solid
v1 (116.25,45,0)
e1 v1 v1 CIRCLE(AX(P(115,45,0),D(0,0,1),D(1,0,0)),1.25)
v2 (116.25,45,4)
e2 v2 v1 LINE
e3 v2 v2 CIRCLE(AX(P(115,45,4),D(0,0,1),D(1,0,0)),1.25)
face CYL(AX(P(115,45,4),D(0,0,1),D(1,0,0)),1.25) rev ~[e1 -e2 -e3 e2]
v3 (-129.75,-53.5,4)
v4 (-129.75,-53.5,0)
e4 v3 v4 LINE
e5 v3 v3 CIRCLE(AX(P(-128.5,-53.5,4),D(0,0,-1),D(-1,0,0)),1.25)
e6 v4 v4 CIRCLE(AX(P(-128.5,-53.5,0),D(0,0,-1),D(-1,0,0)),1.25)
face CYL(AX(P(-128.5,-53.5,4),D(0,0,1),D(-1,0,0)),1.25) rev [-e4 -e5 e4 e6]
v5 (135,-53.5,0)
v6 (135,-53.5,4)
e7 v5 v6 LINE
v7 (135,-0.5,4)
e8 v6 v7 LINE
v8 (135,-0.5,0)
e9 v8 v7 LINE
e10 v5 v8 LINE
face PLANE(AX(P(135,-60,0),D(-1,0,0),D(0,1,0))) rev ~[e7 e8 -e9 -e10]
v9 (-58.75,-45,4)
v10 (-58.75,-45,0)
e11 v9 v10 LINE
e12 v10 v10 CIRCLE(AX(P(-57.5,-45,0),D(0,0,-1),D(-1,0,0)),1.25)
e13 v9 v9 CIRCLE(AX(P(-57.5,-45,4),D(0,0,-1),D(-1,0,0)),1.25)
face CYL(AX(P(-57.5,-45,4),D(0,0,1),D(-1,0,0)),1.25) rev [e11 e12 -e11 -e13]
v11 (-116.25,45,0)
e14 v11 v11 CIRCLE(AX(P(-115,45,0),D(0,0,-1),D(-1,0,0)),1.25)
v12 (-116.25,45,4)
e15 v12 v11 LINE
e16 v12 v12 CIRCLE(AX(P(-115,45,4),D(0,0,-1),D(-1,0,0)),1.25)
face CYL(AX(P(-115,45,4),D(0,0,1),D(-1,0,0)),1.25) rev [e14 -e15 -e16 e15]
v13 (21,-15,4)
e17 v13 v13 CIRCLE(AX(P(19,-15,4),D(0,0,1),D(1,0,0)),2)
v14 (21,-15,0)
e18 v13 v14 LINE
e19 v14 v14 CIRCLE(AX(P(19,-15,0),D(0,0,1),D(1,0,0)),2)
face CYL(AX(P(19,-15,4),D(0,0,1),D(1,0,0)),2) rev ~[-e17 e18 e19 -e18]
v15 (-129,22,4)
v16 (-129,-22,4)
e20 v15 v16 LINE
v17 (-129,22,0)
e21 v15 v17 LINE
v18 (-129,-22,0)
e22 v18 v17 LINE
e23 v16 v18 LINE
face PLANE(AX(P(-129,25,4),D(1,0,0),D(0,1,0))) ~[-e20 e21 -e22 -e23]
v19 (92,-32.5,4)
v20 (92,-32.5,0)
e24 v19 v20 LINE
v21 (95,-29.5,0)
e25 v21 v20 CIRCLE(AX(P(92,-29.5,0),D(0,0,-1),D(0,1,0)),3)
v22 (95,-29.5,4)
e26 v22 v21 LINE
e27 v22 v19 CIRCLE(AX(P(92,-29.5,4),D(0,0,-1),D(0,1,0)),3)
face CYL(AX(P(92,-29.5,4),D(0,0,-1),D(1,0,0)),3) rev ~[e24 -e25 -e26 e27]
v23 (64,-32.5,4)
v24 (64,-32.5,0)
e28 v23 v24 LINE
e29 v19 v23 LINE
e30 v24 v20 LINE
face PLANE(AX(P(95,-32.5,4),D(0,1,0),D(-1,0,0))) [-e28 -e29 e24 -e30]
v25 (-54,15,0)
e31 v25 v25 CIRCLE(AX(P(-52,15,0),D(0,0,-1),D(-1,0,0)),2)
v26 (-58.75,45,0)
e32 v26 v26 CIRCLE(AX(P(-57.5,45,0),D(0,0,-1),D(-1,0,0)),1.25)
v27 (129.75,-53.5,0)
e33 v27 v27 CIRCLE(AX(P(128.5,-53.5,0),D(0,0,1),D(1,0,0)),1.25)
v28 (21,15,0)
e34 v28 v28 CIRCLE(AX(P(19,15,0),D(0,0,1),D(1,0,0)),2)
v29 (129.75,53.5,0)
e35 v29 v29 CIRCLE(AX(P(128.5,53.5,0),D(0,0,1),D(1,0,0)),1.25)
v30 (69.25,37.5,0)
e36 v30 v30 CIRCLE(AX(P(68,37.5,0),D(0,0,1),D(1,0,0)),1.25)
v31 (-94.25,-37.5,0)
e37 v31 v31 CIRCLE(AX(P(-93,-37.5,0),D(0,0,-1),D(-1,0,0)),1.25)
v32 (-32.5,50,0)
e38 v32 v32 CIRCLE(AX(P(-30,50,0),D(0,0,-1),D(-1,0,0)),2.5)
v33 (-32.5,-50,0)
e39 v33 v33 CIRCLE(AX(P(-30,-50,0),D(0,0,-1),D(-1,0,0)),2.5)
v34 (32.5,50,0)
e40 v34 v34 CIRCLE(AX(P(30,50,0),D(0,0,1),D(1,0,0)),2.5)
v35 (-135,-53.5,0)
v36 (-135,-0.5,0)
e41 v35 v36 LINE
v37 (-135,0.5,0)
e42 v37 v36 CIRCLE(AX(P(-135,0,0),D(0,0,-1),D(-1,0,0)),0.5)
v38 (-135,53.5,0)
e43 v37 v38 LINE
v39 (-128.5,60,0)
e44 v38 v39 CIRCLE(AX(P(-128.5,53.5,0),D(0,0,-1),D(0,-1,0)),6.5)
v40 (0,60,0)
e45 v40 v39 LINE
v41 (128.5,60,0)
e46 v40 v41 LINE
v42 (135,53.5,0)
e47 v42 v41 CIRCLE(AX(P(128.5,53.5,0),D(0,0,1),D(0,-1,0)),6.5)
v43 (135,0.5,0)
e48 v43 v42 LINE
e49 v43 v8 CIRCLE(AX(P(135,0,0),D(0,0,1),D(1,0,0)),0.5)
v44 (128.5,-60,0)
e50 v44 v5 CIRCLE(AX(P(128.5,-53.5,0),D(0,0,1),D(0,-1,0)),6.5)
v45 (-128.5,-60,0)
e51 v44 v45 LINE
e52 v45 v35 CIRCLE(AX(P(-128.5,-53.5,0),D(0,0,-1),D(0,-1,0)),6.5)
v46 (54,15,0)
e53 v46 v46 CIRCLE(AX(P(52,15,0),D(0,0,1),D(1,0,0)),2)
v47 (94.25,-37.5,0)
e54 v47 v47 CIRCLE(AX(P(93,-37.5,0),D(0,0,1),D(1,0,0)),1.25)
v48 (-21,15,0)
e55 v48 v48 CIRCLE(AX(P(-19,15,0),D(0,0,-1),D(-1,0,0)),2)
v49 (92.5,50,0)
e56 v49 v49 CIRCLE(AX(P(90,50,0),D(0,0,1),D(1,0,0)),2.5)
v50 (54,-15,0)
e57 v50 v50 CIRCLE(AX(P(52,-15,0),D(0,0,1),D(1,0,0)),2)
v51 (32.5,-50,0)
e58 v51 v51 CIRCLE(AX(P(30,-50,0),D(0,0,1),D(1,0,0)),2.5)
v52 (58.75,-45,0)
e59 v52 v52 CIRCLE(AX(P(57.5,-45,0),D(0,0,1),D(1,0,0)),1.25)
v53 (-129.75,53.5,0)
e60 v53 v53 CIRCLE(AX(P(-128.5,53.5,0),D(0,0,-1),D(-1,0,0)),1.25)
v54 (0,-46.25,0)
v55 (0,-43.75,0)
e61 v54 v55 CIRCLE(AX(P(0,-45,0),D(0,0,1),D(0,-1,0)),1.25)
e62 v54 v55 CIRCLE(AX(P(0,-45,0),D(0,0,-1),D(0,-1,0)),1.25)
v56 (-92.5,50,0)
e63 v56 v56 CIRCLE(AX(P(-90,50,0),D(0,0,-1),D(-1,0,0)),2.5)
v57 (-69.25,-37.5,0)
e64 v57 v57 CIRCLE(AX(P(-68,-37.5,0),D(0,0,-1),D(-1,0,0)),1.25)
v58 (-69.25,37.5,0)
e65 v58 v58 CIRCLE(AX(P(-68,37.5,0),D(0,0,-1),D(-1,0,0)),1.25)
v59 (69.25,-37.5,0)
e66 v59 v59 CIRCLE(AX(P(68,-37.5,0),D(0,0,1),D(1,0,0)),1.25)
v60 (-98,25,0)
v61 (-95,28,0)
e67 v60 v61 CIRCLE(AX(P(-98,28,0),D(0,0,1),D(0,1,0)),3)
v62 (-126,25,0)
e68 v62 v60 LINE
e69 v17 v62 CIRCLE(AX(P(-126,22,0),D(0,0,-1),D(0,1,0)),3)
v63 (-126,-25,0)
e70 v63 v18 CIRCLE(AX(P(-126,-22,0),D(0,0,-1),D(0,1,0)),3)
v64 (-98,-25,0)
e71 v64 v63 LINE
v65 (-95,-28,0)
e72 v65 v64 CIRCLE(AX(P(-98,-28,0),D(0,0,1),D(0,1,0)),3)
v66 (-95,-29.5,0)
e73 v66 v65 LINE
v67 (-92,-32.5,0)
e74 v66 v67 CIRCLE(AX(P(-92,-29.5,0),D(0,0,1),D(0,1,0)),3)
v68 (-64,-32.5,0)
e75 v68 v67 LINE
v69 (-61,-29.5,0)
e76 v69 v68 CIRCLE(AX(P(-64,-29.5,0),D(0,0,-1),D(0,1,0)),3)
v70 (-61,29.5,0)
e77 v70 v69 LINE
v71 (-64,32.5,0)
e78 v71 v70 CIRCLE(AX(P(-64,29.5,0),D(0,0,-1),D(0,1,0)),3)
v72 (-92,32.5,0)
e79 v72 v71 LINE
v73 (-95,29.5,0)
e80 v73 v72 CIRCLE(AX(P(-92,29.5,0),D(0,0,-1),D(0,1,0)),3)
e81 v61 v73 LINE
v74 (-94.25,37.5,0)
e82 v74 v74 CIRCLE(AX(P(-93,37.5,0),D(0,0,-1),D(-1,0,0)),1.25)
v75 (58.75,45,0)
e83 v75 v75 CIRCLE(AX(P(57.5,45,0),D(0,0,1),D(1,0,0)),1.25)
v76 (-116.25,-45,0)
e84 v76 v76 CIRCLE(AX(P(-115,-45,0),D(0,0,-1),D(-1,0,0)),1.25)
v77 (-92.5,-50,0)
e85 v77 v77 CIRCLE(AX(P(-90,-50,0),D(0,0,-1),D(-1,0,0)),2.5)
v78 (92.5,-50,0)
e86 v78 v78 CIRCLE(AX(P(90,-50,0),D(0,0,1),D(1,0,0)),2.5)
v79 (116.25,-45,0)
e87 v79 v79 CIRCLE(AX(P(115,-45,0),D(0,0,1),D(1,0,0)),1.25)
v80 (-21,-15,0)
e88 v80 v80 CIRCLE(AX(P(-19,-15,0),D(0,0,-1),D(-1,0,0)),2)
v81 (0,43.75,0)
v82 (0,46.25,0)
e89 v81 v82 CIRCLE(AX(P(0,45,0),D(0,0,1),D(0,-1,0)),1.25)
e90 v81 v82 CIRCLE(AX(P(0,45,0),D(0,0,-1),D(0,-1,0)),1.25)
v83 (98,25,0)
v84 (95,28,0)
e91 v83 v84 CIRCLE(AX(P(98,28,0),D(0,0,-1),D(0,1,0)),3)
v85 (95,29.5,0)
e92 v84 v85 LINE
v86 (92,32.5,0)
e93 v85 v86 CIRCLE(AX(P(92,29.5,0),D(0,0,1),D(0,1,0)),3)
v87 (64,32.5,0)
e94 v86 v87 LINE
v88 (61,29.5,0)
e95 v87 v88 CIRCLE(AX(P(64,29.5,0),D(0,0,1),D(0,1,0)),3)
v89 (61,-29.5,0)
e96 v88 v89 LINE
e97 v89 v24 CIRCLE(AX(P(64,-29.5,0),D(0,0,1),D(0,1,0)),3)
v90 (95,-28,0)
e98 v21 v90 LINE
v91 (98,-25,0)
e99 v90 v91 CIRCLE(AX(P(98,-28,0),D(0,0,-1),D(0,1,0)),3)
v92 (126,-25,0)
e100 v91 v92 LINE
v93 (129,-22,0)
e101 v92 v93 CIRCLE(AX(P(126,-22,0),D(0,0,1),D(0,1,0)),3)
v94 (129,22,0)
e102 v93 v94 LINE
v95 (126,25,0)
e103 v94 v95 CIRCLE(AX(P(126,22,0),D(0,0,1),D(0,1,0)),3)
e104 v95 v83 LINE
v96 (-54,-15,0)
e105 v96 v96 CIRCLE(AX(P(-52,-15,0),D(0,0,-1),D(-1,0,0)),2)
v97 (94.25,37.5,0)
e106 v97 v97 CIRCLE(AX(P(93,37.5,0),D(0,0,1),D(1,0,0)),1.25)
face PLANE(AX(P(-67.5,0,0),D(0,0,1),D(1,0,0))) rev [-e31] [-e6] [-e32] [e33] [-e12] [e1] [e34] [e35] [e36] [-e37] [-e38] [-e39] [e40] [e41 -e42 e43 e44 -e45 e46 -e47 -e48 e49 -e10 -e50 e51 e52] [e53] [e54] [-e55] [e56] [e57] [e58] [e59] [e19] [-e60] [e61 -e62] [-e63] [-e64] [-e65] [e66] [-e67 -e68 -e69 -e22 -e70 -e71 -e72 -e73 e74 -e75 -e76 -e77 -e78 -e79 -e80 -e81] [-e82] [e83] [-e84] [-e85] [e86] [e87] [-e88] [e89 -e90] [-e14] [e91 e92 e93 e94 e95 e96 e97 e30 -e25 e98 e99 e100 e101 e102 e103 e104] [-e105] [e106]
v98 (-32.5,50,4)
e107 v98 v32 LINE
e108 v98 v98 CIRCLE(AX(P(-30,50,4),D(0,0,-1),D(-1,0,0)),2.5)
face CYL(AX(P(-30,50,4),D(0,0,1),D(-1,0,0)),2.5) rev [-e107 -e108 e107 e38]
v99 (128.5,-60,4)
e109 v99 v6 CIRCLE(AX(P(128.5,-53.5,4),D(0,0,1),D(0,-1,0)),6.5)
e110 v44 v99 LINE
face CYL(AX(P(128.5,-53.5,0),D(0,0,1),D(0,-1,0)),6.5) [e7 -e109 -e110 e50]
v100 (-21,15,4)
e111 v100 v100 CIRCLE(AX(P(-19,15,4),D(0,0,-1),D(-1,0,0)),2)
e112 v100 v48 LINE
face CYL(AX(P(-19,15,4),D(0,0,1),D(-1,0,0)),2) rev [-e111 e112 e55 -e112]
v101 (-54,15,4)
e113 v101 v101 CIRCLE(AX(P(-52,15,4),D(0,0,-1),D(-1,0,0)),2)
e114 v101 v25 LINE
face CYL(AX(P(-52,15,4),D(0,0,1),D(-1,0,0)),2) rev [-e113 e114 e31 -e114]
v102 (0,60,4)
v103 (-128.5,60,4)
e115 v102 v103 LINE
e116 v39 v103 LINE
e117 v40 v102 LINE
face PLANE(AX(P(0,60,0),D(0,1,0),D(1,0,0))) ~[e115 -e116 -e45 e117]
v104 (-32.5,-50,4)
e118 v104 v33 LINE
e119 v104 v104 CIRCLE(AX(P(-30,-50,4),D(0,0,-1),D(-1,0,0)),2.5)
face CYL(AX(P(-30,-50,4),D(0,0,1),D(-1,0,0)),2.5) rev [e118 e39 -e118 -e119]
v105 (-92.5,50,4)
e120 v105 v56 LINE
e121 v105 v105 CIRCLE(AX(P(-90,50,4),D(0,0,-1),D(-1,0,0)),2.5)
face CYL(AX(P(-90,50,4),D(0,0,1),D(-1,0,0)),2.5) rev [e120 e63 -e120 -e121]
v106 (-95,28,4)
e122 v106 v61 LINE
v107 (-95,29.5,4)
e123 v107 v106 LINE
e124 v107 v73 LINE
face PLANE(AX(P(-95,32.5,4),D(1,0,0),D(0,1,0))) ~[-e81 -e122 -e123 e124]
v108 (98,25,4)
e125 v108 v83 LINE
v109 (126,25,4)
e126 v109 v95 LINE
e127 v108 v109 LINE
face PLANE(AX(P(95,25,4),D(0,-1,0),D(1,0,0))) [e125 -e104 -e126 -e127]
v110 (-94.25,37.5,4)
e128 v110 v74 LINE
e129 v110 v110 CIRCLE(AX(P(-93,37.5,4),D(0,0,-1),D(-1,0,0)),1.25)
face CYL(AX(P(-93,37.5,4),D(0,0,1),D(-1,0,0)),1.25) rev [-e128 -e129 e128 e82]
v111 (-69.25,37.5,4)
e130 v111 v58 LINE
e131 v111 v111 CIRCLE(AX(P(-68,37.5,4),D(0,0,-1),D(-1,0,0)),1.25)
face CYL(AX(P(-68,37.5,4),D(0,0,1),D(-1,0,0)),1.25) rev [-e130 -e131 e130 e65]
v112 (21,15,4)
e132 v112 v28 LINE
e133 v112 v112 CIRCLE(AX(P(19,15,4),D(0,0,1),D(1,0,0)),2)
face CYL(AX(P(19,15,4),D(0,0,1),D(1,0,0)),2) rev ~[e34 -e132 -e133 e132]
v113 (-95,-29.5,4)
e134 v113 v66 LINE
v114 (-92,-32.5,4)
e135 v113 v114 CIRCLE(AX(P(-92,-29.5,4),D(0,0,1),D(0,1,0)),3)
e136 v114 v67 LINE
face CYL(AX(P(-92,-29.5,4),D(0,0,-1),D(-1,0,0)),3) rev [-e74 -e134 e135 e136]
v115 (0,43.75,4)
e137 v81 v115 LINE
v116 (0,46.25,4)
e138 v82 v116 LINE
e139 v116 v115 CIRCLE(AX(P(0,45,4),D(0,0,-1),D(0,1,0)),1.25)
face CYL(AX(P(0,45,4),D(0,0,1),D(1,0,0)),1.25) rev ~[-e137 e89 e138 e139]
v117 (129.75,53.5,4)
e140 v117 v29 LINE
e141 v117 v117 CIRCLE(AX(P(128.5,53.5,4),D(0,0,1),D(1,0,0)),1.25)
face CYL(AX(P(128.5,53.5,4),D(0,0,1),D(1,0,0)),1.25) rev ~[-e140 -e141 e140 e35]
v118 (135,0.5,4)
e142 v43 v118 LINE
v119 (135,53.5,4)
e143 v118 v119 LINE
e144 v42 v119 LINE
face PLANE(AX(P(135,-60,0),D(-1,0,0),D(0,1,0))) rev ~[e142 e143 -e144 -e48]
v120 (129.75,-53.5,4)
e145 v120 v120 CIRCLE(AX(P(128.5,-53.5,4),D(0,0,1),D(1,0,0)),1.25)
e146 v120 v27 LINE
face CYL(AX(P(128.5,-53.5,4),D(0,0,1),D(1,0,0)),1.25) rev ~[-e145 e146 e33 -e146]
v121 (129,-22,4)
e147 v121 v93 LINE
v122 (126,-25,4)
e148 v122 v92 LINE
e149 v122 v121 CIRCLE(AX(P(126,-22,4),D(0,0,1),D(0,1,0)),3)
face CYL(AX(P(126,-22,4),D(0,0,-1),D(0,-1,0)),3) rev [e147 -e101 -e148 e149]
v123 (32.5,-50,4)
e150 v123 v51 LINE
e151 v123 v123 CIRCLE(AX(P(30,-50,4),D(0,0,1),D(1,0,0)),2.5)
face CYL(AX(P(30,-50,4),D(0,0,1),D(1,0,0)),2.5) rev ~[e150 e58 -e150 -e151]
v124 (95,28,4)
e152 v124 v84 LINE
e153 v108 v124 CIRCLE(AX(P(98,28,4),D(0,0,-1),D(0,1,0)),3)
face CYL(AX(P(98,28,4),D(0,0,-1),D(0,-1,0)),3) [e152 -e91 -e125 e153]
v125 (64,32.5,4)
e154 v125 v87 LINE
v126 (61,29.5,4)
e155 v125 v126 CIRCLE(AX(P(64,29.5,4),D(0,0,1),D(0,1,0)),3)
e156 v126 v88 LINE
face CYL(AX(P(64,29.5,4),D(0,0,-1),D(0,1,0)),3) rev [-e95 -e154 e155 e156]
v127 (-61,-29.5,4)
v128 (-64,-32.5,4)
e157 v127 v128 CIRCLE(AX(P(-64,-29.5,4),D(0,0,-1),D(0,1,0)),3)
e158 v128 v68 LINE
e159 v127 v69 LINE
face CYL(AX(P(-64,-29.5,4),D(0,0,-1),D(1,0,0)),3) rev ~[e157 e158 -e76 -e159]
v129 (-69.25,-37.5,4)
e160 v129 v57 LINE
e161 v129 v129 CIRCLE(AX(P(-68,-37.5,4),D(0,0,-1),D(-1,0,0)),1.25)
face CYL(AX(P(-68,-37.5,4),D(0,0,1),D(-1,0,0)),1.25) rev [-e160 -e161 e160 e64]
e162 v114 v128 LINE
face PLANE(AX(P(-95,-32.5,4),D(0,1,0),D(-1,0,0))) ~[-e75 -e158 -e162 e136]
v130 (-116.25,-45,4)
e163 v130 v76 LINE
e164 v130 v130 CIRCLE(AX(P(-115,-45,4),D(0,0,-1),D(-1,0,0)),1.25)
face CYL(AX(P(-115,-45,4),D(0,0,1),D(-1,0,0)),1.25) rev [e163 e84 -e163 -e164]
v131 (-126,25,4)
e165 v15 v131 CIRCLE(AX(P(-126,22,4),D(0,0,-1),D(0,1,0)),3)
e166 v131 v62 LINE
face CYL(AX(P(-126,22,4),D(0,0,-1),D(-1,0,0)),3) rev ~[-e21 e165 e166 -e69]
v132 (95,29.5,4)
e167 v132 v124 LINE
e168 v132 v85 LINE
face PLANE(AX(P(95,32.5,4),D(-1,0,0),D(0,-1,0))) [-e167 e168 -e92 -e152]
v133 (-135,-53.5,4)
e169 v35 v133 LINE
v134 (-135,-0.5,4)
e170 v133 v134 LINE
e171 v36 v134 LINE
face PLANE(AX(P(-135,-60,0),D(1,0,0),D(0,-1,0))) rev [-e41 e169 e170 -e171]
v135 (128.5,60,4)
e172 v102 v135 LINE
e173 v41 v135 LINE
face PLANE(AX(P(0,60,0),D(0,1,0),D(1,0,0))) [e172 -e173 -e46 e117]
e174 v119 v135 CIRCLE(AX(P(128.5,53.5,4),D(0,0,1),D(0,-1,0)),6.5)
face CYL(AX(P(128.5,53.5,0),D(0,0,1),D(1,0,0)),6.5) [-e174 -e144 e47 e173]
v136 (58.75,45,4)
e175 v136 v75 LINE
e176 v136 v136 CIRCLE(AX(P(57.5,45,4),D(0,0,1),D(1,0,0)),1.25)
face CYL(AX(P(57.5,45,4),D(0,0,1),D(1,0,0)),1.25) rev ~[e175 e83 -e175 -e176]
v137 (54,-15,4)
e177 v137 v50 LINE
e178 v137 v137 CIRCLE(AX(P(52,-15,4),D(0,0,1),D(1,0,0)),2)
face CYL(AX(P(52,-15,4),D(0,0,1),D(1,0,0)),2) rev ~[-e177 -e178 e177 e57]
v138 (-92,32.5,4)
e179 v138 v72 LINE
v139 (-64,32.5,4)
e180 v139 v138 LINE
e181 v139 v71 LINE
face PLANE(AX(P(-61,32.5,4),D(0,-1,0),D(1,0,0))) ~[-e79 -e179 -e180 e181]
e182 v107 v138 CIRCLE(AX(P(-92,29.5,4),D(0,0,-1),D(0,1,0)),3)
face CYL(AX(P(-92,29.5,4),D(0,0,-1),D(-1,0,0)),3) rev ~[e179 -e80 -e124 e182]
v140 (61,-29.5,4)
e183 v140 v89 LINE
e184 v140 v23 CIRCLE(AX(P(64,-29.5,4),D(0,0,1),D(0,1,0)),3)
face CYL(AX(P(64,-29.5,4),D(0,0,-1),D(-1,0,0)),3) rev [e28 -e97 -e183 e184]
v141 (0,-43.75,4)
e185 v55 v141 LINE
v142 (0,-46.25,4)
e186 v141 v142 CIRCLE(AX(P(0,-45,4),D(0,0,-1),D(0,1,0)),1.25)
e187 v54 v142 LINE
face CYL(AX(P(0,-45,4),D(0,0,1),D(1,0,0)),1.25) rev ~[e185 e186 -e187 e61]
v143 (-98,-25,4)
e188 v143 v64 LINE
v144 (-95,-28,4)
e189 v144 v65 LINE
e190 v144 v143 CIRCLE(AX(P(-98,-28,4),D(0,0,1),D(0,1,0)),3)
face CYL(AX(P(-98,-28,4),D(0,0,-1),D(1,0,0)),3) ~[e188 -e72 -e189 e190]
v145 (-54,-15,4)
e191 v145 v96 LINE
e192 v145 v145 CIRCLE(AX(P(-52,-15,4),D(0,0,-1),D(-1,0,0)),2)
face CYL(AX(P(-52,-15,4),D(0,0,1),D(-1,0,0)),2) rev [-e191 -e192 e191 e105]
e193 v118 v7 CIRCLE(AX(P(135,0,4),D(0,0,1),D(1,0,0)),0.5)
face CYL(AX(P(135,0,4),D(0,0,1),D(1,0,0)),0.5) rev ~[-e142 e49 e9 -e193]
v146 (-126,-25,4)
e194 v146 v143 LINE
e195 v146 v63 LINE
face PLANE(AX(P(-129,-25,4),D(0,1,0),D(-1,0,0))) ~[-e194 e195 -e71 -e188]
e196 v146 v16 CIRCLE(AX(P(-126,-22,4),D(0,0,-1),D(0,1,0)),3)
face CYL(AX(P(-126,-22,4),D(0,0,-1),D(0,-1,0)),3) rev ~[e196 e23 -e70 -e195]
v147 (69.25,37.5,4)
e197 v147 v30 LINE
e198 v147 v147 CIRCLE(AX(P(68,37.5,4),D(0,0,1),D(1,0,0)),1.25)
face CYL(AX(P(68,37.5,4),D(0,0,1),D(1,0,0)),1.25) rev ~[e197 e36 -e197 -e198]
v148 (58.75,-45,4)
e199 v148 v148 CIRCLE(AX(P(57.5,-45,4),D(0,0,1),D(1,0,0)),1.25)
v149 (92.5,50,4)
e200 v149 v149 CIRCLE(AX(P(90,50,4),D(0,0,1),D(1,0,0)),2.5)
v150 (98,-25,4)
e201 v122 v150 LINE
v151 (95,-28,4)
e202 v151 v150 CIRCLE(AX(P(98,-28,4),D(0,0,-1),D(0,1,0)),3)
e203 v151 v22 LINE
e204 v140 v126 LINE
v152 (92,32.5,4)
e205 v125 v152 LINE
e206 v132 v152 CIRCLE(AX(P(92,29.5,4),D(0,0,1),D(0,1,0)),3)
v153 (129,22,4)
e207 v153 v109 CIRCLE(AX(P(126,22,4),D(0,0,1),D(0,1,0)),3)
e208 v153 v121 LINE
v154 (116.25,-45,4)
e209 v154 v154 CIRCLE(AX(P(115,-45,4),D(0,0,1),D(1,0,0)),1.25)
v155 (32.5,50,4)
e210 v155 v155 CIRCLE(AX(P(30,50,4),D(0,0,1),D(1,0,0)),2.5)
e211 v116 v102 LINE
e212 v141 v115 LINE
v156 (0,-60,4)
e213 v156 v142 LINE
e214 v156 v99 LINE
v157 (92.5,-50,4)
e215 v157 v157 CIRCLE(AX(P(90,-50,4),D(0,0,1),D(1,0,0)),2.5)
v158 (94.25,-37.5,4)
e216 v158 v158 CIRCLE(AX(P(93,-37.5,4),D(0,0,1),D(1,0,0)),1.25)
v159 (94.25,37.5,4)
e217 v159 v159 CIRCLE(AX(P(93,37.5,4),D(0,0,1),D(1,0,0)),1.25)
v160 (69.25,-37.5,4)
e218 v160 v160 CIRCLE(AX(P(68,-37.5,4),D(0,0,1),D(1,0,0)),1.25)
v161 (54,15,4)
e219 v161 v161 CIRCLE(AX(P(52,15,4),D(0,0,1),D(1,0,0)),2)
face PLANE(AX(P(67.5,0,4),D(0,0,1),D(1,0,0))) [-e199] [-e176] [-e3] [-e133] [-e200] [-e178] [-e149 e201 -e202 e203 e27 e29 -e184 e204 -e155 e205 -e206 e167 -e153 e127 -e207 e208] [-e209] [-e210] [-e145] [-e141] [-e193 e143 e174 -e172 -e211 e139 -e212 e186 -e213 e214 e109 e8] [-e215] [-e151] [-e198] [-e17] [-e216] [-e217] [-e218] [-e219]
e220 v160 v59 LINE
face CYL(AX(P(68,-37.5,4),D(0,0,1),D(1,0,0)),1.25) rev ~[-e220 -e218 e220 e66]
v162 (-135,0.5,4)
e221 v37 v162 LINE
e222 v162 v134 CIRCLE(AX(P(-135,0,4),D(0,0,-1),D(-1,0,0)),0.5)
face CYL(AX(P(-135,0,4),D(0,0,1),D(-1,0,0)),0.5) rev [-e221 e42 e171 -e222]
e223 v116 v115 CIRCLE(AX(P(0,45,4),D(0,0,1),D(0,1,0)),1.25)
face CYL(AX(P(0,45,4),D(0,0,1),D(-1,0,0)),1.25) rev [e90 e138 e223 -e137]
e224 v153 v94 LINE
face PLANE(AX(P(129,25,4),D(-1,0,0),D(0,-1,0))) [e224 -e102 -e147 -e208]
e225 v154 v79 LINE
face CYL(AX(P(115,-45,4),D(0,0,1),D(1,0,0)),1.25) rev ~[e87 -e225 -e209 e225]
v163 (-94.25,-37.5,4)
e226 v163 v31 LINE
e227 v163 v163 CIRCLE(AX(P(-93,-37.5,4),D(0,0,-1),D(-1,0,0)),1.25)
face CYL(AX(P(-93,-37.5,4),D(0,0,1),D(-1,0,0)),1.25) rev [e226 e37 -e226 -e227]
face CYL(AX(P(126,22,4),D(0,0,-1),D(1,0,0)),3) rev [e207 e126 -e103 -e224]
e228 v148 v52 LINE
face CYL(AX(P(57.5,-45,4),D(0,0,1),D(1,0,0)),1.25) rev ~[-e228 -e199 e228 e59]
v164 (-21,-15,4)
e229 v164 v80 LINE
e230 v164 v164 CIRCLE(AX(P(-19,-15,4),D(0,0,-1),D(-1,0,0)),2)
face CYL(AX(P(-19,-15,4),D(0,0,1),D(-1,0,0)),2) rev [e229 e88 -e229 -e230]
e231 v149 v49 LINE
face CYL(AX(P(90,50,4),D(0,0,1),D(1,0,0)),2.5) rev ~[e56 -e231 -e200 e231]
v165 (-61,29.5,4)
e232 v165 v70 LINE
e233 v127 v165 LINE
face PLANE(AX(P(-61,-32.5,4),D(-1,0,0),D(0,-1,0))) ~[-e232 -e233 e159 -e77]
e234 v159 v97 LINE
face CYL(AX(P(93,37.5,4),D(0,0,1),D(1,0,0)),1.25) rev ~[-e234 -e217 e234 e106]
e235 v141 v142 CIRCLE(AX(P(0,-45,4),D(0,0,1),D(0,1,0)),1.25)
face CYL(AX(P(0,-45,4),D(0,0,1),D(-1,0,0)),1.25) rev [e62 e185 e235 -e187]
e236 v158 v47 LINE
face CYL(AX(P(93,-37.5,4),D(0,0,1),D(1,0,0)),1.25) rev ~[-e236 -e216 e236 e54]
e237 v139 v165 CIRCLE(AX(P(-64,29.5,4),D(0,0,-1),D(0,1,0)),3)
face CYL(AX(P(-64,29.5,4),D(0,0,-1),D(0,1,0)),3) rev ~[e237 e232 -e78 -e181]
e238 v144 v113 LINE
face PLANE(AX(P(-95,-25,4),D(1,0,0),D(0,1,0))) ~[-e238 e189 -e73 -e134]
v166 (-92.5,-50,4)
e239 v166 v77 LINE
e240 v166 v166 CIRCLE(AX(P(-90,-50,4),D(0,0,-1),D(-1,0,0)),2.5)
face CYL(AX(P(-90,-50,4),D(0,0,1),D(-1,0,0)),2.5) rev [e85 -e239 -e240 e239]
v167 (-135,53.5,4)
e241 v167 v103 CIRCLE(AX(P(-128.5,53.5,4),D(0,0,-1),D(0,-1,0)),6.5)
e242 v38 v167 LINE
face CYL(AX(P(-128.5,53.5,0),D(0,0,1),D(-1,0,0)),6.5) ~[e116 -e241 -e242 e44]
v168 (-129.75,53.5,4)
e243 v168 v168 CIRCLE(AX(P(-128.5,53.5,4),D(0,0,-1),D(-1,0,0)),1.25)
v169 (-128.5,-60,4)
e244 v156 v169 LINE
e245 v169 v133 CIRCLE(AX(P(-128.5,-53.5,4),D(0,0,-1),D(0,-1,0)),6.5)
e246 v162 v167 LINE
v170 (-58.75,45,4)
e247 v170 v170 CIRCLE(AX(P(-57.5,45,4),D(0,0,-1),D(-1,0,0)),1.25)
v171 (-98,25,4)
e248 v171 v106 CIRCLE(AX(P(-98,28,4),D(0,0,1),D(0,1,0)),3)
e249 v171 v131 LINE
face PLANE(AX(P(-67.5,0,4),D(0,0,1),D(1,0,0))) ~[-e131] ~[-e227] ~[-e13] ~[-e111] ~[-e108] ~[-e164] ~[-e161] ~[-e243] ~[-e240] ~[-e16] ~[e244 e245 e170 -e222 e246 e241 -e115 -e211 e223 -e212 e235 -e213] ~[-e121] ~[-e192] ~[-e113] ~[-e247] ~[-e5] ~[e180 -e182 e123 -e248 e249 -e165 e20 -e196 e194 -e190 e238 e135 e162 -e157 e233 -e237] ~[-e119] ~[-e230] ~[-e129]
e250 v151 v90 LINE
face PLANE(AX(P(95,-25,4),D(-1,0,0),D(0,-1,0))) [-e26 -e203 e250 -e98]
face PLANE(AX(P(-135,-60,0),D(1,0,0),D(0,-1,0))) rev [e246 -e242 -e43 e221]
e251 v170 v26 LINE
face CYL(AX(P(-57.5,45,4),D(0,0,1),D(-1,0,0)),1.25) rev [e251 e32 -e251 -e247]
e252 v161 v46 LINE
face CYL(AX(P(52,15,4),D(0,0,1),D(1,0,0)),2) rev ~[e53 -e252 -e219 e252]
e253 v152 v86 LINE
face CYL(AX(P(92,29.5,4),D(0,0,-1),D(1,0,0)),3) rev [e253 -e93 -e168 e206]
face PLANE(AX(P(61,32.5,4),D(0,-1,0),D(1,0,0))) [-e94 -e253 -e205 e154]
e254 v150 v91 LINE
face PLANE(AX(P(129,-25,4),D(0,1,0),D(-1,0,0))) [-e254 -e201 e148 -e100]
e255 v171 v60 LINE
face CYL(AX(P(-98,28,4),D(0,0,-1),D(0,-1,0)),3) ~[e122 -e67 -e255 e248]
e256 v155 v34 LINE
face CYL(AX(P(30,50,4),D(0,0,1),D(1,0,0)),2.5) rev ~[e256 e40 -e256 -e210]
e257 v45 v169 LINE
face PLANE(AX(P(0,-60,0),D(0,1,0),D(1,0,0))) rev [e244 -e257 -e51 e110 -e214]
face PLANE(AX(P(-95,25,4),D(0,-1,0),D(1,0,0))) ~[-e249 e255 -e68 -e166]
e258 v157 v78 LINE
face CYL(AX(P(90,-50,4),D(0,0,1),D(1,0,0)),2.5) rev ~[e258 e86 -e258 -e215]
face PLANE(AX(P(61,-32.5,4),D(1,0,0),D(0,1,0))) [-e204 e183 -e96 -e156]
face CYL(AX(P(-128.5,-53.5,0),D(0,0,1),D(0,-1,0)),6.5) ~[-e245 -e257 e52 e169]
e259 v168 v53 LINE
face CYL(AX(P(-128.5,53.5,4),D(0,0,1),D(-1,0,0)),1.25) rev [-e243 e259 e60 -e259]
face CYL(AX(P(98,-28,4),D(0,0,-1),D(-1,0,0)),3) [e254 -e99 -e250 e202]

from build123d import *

# Parameters (mm, degrees)
ESQUISSE1_W             = 135
ESQUISSE1_H             = 120
BOSS_EXTRU_1_DEPTH      = 4
ENL_V_MAT_EXTRU_1_REACH = 149.787
CONG_1_R                = 3
ENL_V_MAT_EXTRU_2_REACH = 149.787
ESQUISSE3_R             = 2.5
ESQUISSE3_R_2           = 1.25
ESQUISSE3_R_3           = 0.5
ESQUISSE3_R_4           = 2
ENL_V_MAT_EXTRU_3_REACH = 149.787
ESQUISSE4_R             = 1.25
CONG_2_R                = 6.5


with BuildPart() as part:
    # Esquisse1 → Boss.-Extru.1 (new body)
    with BuildSketch(Plane.XY):
        with Locations((67.5, 0)):
            Rectangle(ESQUISSE1_W, ESQUISSE1_H)
    extrude(amount=BOSS_EXTRU_1_DEPTH)

    # Esquisse2 → Enlèv. mat.-Extru.1 (cut, up to next)
    with BuildSketch(Plane.XY.offset(4), mode=Mode.PRIVATE) as enl_v_mat_extru_1_sk1:
        Polygon((95, -25), (95, -32.5), (61, -32.5), (61, 32.5), (95, 32.5), (95, 25), (129, 25), (129, -25), align=None)
    enl_v_mat_extru_1_tool1 = extrude(enl_v_mat_extru_1_sk1.sketch, amount=-ENL_V_MAT_EXTRU_1_REACH, mode=Mode.PRIVATE) & part.part
    add(enl_v_mat_extru_1_tool1.solids().sort_by_distance((92.782609, 0, 4))[0], mode=Mode.SUBTRACT)

    # Congé1
    cong_1_edges = [part.edges().sort_by_distance(p)[0] for p in [
        (95, 32.5, 2),
        (95, 25, 2),
        (129, 25, 2),
        (129, -25, 2),
        (95, -25, 2),
        (95, -32.5, 2),
        (61, -32.5, 2),
        (61, 32.5, 2),
    ]]
    fillet(cong_1_edges, radius=CONG_1_R)

    # Esquisse3 → Enlèv. mat.-Extru.2 (cut, up to next)
    with BuildSketch(Plane.XY.offset(4), mode=Mode.PRIVATE) as enl_v_mat_extru_2_sk1:
        with Locations((30, 50)):
            Circle(ESQUISSE3_R)
    enl_v_mat_extru_2_tool1 = extrude(enl_v_mat_extru_2_sk1.sketch, amount=-ENL_V_MAT_EXTRU_2_REACH, mode=Mode.PRIVATE) & part.part
    # Esquisse3 → Enlèv. mat.-Extru.2 (cut, up to next)
    with BuildSketch(Plane.XY.offset(4), mode=Mode.PRIVATE) as enl_v_mat_extru_2_sk2:
        with Locations((90, 50)):
            Circle(ESQUISSE3_R)
    enl_v_mat_extru_2_tool2 = extrude(enl_v_mat_extru_2_sk2.sketch, amount=-ENL_V_MAT_EXTRU_2_REACH, mode=Mode.PRIVATE) & part.part
    # Esquisse3 → Enlèv. mat.-Extru.2 (cut, up to next)
    with BuildSketch(Plane.XY.offset(4), mode=Mode.PRIVATE) as enl_v_mat_extru_2_sk3:
        with Locations((90, -50)):
            Circle(ESQUISSE3_R)
    enl_v_mat_extru_2_tool3 = extrude(enl_v_mat_extru_2_sk3.sketch, amount=-ENL_V_MAT_EXTRU_2_REACH, mode=Mode.PRIVATE) & part.part
    # Esquisse3 → Enlèv. mat.-Extru.2 (cut, up to next)
    with BuildSketch(Plane.XY.offset(4), mode=Mode.PRIVATE) as enl_v_mat_extru_2_sk4:
        with Locations((30, -50)):
            Circle(ESQUISSE3_R)
    enl_v_mat_extru_2_tool4 = extrude(enl_v_mat_extru_2_sk4.sketch, amount=-ENL_V_MAT_EXTRU_2_REACH, mode=Mode.PRIVATE) & part.part
    # Esquisse3 → Enlèv. mat.-Extru.2 (cut, up to next)
    with BuildSketch(Plane.XY.offset(4), mode=Mode.PRIVATE) as enl_v_mat_extru_2_sk5:
        with Locations((0, 45)):
            Circle(ESQUISSE3_R_2)
    enl_v_mat_extru_2_tool5 = extrude(enl_v_mat_extru_2_sk5.sketch, amount=-ENL_V_MAT_EXTRU_2_REACH, mode=Mode.PRIVATE) & part.part
    # Esquisse3 → Enlèv. mat.-Extru.2 (cut, up to next)
    with BuildSketch(Plane.XY.offset(4), mode=Mode.PRIVATE) as enl_v_mat_extru_2_sk6:
        with Locations((115, 45)):
            Circle(ESQUISSE3_R_2)
    enl_v_mat_extru_2_tool6 = extrude(enl_v_mat_extru_2_sk6.sketch, amount=-ENL_V_MAT_EXTRU_2_REACH, mode=Mode.PRIVATE) & part.part
    # Esquisse3 → Enlèv. mat.-Extru.2 (cut, up to next)
    with BuildSketch(Plane.XY.offset(4), mode=Mode.PRIVATE) as enl_v_mat_extru_2_sk7:
        with Locations((115, -45)):
            Circle(ESQUISSE3_R_2)
    enl_v_mat_extru_2_tool7 = extrude(enl_v_mat_extru_2_sk7.sketch, amount=-ENL_V_MAT_EXTRU_2_REACH, mode=Mode.PRIVATE) & part.part
    # Esquisse3 → Enlèv. mat.-Extru.2 (cut, up to next)
    with BuildSketch(Plane.XY.offset(4), mode=Mode.PRIVATE) as enl_v_mat_extru_2_sk8:
        with Locations((0, -45)):
            Circle(ESQUISSE3_R_2)
    enl_v_mat_extru_2_tool8 = extrude(enl_v_mat_extru_2_sk8.sketch, amount=-ENL_V_MAT_EXTRU_2_REACH, mode=Mode.PRIVATE) & part.part
    # Esquisse3 → Enlèv. mat.-Extru.2 (cut, up to next)
    with BuildSketch(Plane.XY.offset(4), mode=Mode.PRIVATE) as enl_v_mat_extru_2_sk9:
        with Locations((57.5, -45)):
            Circle(ESQUISSE3_R_2)
    enl_v_mat_extru_2_tool9 = extrude(enl_v_mat_extru_2_sk9.sketch, amount=-ENL_V_MAT_EXTRU_2_REACH, mode=Mode.PRIVATE) & part.part
    # Esquisse3 → Enlèv. mat.-Extru.2 (cut, up to next)
    with BuildSketch(Plane.XY.offset(4), mode=Mode.PRIVATE) as enl_v_mat_extru_2_sk10:
        with Locations((57.5, 45)):
            Circle(ESQUISSE3_R_2)
    enl_v_mat_extru_2_tool10 = extrude(enl_v_mat_extru_2_sk10.sketch, amount=-ENL_V_MAT_EXTRU_2_REACH, mode=Mode.PRIVATE) & part.part
    # Esquisse3 → Enlèv. mat.-Extru.2 (cut, up to next)
    with BuildSketch(Plane.XY.offset(4), mode=Mode.PRIVATE) as enl_v_mat_extru_2_sk11:
        with Locations((128.5, 53.5)):
            Circle(ESQUISSE3_R_2)
    enl_v_mat_extru_2_tool11 = extrude(enl_v_mat_extru_2_sk11.sketch, amount=-ENL_V_MAT_EXTRU_2_REACH, mode=Mode.PRIVATE) & part.part
    # Esquisse3 → Enlèv. mat.-Extru.2 (cut, up to next)
    with BuildSketch(Plane.XY.offset(4), mode=Mode.PRIVATE) as enl_v_mat_extru_2_sk12:
        with Locations((128.5, -53.5)):
            Circle(ESQUISSE3_R_2)
    enl_v_mat_extru_2_tool12 = extrude(enl_v_mat_extru_2_sk12.sketch, amount=-ENL_V_MAT_EXTRU_2_REACH, mode=Mode.PRIVATE) & part.part
    # Esquisse3 → Enlèv. mat.-Extru.2 (cut, up to next)
    with BuildSketch(Plane.XY.offset(4), mode=Mode.PRIVATE) as enl_v_mat_extru_2_sk13:
        with Locations((135, 0)):
            Circle(ESQUISSE3_R_3)
    enl_v_mat_extru_2_tool13 = extrude(enl_v_mat_extru_2_sk13.sketch, amount=-ENL_V_MAT_EXTRU_2_REACH, mode=Mode.PRIVATE) & part.part
    # Esquisse3 → Enlèv. mat.-Extru.2 (cut, up to next)
    with BuildSketch(Plane.XY.offset(4), mode=Mode.PRIVATE) as enl_v_mat_extru_2_sk14:
        with Locations((52, 15)):
            Circle(ESQUISSE3_R_4)
    enl_v_mat_extru_2_tool14 = extrude(enl_v_mat_extru_2_sk14.sketch, amount=-ENL_V_MAT_EXTRU_2_REACH, mode=Mode.PRIVATE) & part.part
    # Esquisse3 → Enlèv. mat.-Extru.2 (cut, up to next)
    with BuildSketch(Plane.XY.offset(4), mode=Mode.PRIVATE) as enl_v_mat_extru_2_sk15:
        with Locations((19, 15)):
            Circle(ESQUISSE3_R_4)
    enl_v_mat_extru_2_tool15 = extrude(enl_v_mat_extru_2_sk15.sketch, amount=-ENL_V_MAT_EXTRU_2_REACH, mode=Mode.PRIVATE) & part.part
    # Esquisse3 → Enlèv. mat.-Extru.2 (cut, up to next)
    with BuildSketch(Plane.XY.offset(4), mode=Mode.PRIVATE) as enl_v_mat_extru_2_sk16:
        with Locations((19, -15)):
            Circle(ESQUISSE3_R_4)
    enl_v_mat_extru_2_tool16 = extrude(enl_v_mat_extru_2_sk16.sketch, amount=-ENL_V_MAT_EXTRU_2_REACH, mode=Mode.PRIVATE) & part.part
    # Esquisse3 → Enlèv. mat.-Extru.2 (cut, up to next)
    with BuildSketch(Plane.XY.offset(4), mode=Mode.PRIVATE) as enl_v_mat_extru_2_sk17:
        with Locations((52, -15)):
            Circle(ESQUISSE3_R_4)
    enl_v_mat_extru_2_tool17 = extrude(enl_v_mat_extru_2_sk17.sketch, amount=-ENL_V_MAT_EXTRU_2_REACH, mode=Mode.PRIVATE) & part.part
    add(enl_v_mat_extru_2_tool1.solids().sort_by_distance((30, 50, 4))[0], mode=Mode.SUBTRACT)
    add(enl_v_mat_extru_2_tool2.solids().sort_by_distance((90, 50, 4))[0], mode=Mode.SUBTRACT)
    add(enl_v_mat_extru_2_tool3.solids().sort_by_distance((90, -50, 4))[0], mode=Mode.SUBTRACT)
    add(enl_v_mat_extru_2_tool4.solids().sort_by_distance((30, -50, 4))[0], mode=Mode.SUBTRACT)
    add(enl_v_mat_extru_2_tool5.solids().sort_by_distance((0, 45, 4))[0], mode=Mode.SUBTRACT)
    add(enl_v_mat_extru_2_tool6.solids().sort_by_distance((115, 45, 4))[0], mode=Mode.SUBTRACT)
    add(enl_v_mat_extru_2_tool7.solids().sort_by_distance((115, -45, 4))[0], mode=Mode.SUBTRACT)
    add(enl_v_mat_extru_2_tool8.solids().sort_by_distance((0, -45, 4))[0], mode=Mode.SUBTRACT)
    add(enl_v_mat_extru_2_tool9.solids().sort_by_distance((57.5, -45, 4))[0], mode=Mode.SUBTRACT)
    add(enl_v_mat_extru_2_tool10.solids().sort_by_distance((57.5, 45, 4))[0], mode=Mode.SUBTRACT)
    add(enl_v_mat_extru_2_tool11.solids().sort_by_distance((128.5, 53.5, 4))[0], mode=Mode.SUBTRACT)
    add(enl_v_mat_extru_2_tool12.solids().sort_by_distance((128.5, -53.5, 4))[0], mode=Mode.SUBTRACT)
    add(enl_v_mat_extru_2_tool13.solids().sort_by_distance((135, 0, 4))[0], mode=Mode.SUBTRACT)
    add(enl_v_mat_extru_2_tool14.solids().sort_by_distance((52, 15, 4))[0], mode=Mode.SUBTRACT)
    add(enl_v_mat_extru_2_tool15.solids().sort_by_distance((19, 15, 4))[0], mode=Mode.SUBTRACT)
    add(enl_v_mat_extru_2_tool16.solids().sort_by_distance((19, -15, 4))[0], mode=Mode.SUBTRACT)
    add(enl_v_mat_extru_2_tool17.solids().sort_by_distance((52, -15, 4))[0], mode=Mode.SUBTRACT)

    # Esquisse4 → Enlèv. mat.-Extru.3 (cut, up to next)
    with BuildSketch(Plane.XY.offset(4), mode=Mode.PRIVATE) as enl_v_mat_extru_3_sk1:
        with Locations((68, 37.5)):
            Circle(ESQUISSE4_R)
    enl_v_mat_extru_3_tool1 = extrude(enl_v_mat_extru_3_sk1.sketch, amount=-ENL_V_MAT_EXTRU_3_REACH, mode=Mode.PRIVATE) & part.part
    # Esquisse4 → Enlèv. mat.-Extru.3 (cut, up to next)
    with BuildSketch(Plane.XY.offset(4), mode=Mode.PRIVATE) as enl_v_mat_extru_3_sk2:
        with Locations((93, 37.5)):
            Circle(ESQUISSE4_R)
    enl_v_mat_extru_3_tool2 = extrude(enl_v_mat_extru_3_sk2.sketch, amount=-ENL_V_MAT_EXTRU_3_REACH, mode=Mode.PRIVATE) & part.part
    # Esquisse4 → Enlèv. mat.-Extru.3 (cut, up to next)
    with BuildSketch(Plane.XY.offset(4), mode=Mode.PRIVATE) as enl_v_mat_extru_3_sk3:
        with Locations((68, -37.5)):
            Circle(ESQUISSE4_R)
    enl_v_mat_extru_3_tool3 = extrude(enl_v_mat_extru_3_sk3.sketch, amount=-ENL_V_MAT_EXTRU_3_REACH, mode=Mode.PRIVATE) & part.part
    # Esquisse4 → Enlèv. mat.-Extru.3 (cut, up to next)
    with BuildSketch(Plane.XY.offset(4), mode=Mode.PRIVATE) as enl_v_mat_extru_3_sk4:
        with Locations((93, -37.5)):
            Circle(ESQUISSE4_R)
    enl_v_mat_extru_3_tool4 = extrude(enl_v_mat_extru_3_sk4.sketch, amount=-ENL_V_MAT_EXTRU_3_REACH, mode=Mode.PRIVATE) & part.part
    add(enl_v_mat_extru_3_tool1.solids().sort_by_distance((68, 37.5, 4))[0], mode=Mode.SUBTRACT)
    add(enl_v_mat_extru_3_tool2.solids().sort_by_distance((93, 37.5, 4))[0], mode=Mode.SUBTRACT)
    add(enl_v_mat_extru_3_tool3.solids().sort_by_distance((68, -37.5, 4))[0], mode=Mode.SUBTRACT)
    add(enl_v_mat_extru_3_tool4.solids().sort_by_distance((93, -37.5, 4))[0], mode=Mode.SUBTRACT)

    # Congé2
    cong_2_edges = [part.edges().sort_by_distance(p)[0] for p in [
        (135, -60, 2),
        (135, 60, 2),
    ]]
    fillet(cong_2_edges, radius=CONG_2_R)

    # Symétrie1: part across plane


with BuildPart() as part_1:
    add(part.part)
    add(part.part.mirror(Plane(origin=(0, 60, 4), x_dir=(0, 0, 1), z_dir=(1, 0, 0))))


solid = part_1.part
